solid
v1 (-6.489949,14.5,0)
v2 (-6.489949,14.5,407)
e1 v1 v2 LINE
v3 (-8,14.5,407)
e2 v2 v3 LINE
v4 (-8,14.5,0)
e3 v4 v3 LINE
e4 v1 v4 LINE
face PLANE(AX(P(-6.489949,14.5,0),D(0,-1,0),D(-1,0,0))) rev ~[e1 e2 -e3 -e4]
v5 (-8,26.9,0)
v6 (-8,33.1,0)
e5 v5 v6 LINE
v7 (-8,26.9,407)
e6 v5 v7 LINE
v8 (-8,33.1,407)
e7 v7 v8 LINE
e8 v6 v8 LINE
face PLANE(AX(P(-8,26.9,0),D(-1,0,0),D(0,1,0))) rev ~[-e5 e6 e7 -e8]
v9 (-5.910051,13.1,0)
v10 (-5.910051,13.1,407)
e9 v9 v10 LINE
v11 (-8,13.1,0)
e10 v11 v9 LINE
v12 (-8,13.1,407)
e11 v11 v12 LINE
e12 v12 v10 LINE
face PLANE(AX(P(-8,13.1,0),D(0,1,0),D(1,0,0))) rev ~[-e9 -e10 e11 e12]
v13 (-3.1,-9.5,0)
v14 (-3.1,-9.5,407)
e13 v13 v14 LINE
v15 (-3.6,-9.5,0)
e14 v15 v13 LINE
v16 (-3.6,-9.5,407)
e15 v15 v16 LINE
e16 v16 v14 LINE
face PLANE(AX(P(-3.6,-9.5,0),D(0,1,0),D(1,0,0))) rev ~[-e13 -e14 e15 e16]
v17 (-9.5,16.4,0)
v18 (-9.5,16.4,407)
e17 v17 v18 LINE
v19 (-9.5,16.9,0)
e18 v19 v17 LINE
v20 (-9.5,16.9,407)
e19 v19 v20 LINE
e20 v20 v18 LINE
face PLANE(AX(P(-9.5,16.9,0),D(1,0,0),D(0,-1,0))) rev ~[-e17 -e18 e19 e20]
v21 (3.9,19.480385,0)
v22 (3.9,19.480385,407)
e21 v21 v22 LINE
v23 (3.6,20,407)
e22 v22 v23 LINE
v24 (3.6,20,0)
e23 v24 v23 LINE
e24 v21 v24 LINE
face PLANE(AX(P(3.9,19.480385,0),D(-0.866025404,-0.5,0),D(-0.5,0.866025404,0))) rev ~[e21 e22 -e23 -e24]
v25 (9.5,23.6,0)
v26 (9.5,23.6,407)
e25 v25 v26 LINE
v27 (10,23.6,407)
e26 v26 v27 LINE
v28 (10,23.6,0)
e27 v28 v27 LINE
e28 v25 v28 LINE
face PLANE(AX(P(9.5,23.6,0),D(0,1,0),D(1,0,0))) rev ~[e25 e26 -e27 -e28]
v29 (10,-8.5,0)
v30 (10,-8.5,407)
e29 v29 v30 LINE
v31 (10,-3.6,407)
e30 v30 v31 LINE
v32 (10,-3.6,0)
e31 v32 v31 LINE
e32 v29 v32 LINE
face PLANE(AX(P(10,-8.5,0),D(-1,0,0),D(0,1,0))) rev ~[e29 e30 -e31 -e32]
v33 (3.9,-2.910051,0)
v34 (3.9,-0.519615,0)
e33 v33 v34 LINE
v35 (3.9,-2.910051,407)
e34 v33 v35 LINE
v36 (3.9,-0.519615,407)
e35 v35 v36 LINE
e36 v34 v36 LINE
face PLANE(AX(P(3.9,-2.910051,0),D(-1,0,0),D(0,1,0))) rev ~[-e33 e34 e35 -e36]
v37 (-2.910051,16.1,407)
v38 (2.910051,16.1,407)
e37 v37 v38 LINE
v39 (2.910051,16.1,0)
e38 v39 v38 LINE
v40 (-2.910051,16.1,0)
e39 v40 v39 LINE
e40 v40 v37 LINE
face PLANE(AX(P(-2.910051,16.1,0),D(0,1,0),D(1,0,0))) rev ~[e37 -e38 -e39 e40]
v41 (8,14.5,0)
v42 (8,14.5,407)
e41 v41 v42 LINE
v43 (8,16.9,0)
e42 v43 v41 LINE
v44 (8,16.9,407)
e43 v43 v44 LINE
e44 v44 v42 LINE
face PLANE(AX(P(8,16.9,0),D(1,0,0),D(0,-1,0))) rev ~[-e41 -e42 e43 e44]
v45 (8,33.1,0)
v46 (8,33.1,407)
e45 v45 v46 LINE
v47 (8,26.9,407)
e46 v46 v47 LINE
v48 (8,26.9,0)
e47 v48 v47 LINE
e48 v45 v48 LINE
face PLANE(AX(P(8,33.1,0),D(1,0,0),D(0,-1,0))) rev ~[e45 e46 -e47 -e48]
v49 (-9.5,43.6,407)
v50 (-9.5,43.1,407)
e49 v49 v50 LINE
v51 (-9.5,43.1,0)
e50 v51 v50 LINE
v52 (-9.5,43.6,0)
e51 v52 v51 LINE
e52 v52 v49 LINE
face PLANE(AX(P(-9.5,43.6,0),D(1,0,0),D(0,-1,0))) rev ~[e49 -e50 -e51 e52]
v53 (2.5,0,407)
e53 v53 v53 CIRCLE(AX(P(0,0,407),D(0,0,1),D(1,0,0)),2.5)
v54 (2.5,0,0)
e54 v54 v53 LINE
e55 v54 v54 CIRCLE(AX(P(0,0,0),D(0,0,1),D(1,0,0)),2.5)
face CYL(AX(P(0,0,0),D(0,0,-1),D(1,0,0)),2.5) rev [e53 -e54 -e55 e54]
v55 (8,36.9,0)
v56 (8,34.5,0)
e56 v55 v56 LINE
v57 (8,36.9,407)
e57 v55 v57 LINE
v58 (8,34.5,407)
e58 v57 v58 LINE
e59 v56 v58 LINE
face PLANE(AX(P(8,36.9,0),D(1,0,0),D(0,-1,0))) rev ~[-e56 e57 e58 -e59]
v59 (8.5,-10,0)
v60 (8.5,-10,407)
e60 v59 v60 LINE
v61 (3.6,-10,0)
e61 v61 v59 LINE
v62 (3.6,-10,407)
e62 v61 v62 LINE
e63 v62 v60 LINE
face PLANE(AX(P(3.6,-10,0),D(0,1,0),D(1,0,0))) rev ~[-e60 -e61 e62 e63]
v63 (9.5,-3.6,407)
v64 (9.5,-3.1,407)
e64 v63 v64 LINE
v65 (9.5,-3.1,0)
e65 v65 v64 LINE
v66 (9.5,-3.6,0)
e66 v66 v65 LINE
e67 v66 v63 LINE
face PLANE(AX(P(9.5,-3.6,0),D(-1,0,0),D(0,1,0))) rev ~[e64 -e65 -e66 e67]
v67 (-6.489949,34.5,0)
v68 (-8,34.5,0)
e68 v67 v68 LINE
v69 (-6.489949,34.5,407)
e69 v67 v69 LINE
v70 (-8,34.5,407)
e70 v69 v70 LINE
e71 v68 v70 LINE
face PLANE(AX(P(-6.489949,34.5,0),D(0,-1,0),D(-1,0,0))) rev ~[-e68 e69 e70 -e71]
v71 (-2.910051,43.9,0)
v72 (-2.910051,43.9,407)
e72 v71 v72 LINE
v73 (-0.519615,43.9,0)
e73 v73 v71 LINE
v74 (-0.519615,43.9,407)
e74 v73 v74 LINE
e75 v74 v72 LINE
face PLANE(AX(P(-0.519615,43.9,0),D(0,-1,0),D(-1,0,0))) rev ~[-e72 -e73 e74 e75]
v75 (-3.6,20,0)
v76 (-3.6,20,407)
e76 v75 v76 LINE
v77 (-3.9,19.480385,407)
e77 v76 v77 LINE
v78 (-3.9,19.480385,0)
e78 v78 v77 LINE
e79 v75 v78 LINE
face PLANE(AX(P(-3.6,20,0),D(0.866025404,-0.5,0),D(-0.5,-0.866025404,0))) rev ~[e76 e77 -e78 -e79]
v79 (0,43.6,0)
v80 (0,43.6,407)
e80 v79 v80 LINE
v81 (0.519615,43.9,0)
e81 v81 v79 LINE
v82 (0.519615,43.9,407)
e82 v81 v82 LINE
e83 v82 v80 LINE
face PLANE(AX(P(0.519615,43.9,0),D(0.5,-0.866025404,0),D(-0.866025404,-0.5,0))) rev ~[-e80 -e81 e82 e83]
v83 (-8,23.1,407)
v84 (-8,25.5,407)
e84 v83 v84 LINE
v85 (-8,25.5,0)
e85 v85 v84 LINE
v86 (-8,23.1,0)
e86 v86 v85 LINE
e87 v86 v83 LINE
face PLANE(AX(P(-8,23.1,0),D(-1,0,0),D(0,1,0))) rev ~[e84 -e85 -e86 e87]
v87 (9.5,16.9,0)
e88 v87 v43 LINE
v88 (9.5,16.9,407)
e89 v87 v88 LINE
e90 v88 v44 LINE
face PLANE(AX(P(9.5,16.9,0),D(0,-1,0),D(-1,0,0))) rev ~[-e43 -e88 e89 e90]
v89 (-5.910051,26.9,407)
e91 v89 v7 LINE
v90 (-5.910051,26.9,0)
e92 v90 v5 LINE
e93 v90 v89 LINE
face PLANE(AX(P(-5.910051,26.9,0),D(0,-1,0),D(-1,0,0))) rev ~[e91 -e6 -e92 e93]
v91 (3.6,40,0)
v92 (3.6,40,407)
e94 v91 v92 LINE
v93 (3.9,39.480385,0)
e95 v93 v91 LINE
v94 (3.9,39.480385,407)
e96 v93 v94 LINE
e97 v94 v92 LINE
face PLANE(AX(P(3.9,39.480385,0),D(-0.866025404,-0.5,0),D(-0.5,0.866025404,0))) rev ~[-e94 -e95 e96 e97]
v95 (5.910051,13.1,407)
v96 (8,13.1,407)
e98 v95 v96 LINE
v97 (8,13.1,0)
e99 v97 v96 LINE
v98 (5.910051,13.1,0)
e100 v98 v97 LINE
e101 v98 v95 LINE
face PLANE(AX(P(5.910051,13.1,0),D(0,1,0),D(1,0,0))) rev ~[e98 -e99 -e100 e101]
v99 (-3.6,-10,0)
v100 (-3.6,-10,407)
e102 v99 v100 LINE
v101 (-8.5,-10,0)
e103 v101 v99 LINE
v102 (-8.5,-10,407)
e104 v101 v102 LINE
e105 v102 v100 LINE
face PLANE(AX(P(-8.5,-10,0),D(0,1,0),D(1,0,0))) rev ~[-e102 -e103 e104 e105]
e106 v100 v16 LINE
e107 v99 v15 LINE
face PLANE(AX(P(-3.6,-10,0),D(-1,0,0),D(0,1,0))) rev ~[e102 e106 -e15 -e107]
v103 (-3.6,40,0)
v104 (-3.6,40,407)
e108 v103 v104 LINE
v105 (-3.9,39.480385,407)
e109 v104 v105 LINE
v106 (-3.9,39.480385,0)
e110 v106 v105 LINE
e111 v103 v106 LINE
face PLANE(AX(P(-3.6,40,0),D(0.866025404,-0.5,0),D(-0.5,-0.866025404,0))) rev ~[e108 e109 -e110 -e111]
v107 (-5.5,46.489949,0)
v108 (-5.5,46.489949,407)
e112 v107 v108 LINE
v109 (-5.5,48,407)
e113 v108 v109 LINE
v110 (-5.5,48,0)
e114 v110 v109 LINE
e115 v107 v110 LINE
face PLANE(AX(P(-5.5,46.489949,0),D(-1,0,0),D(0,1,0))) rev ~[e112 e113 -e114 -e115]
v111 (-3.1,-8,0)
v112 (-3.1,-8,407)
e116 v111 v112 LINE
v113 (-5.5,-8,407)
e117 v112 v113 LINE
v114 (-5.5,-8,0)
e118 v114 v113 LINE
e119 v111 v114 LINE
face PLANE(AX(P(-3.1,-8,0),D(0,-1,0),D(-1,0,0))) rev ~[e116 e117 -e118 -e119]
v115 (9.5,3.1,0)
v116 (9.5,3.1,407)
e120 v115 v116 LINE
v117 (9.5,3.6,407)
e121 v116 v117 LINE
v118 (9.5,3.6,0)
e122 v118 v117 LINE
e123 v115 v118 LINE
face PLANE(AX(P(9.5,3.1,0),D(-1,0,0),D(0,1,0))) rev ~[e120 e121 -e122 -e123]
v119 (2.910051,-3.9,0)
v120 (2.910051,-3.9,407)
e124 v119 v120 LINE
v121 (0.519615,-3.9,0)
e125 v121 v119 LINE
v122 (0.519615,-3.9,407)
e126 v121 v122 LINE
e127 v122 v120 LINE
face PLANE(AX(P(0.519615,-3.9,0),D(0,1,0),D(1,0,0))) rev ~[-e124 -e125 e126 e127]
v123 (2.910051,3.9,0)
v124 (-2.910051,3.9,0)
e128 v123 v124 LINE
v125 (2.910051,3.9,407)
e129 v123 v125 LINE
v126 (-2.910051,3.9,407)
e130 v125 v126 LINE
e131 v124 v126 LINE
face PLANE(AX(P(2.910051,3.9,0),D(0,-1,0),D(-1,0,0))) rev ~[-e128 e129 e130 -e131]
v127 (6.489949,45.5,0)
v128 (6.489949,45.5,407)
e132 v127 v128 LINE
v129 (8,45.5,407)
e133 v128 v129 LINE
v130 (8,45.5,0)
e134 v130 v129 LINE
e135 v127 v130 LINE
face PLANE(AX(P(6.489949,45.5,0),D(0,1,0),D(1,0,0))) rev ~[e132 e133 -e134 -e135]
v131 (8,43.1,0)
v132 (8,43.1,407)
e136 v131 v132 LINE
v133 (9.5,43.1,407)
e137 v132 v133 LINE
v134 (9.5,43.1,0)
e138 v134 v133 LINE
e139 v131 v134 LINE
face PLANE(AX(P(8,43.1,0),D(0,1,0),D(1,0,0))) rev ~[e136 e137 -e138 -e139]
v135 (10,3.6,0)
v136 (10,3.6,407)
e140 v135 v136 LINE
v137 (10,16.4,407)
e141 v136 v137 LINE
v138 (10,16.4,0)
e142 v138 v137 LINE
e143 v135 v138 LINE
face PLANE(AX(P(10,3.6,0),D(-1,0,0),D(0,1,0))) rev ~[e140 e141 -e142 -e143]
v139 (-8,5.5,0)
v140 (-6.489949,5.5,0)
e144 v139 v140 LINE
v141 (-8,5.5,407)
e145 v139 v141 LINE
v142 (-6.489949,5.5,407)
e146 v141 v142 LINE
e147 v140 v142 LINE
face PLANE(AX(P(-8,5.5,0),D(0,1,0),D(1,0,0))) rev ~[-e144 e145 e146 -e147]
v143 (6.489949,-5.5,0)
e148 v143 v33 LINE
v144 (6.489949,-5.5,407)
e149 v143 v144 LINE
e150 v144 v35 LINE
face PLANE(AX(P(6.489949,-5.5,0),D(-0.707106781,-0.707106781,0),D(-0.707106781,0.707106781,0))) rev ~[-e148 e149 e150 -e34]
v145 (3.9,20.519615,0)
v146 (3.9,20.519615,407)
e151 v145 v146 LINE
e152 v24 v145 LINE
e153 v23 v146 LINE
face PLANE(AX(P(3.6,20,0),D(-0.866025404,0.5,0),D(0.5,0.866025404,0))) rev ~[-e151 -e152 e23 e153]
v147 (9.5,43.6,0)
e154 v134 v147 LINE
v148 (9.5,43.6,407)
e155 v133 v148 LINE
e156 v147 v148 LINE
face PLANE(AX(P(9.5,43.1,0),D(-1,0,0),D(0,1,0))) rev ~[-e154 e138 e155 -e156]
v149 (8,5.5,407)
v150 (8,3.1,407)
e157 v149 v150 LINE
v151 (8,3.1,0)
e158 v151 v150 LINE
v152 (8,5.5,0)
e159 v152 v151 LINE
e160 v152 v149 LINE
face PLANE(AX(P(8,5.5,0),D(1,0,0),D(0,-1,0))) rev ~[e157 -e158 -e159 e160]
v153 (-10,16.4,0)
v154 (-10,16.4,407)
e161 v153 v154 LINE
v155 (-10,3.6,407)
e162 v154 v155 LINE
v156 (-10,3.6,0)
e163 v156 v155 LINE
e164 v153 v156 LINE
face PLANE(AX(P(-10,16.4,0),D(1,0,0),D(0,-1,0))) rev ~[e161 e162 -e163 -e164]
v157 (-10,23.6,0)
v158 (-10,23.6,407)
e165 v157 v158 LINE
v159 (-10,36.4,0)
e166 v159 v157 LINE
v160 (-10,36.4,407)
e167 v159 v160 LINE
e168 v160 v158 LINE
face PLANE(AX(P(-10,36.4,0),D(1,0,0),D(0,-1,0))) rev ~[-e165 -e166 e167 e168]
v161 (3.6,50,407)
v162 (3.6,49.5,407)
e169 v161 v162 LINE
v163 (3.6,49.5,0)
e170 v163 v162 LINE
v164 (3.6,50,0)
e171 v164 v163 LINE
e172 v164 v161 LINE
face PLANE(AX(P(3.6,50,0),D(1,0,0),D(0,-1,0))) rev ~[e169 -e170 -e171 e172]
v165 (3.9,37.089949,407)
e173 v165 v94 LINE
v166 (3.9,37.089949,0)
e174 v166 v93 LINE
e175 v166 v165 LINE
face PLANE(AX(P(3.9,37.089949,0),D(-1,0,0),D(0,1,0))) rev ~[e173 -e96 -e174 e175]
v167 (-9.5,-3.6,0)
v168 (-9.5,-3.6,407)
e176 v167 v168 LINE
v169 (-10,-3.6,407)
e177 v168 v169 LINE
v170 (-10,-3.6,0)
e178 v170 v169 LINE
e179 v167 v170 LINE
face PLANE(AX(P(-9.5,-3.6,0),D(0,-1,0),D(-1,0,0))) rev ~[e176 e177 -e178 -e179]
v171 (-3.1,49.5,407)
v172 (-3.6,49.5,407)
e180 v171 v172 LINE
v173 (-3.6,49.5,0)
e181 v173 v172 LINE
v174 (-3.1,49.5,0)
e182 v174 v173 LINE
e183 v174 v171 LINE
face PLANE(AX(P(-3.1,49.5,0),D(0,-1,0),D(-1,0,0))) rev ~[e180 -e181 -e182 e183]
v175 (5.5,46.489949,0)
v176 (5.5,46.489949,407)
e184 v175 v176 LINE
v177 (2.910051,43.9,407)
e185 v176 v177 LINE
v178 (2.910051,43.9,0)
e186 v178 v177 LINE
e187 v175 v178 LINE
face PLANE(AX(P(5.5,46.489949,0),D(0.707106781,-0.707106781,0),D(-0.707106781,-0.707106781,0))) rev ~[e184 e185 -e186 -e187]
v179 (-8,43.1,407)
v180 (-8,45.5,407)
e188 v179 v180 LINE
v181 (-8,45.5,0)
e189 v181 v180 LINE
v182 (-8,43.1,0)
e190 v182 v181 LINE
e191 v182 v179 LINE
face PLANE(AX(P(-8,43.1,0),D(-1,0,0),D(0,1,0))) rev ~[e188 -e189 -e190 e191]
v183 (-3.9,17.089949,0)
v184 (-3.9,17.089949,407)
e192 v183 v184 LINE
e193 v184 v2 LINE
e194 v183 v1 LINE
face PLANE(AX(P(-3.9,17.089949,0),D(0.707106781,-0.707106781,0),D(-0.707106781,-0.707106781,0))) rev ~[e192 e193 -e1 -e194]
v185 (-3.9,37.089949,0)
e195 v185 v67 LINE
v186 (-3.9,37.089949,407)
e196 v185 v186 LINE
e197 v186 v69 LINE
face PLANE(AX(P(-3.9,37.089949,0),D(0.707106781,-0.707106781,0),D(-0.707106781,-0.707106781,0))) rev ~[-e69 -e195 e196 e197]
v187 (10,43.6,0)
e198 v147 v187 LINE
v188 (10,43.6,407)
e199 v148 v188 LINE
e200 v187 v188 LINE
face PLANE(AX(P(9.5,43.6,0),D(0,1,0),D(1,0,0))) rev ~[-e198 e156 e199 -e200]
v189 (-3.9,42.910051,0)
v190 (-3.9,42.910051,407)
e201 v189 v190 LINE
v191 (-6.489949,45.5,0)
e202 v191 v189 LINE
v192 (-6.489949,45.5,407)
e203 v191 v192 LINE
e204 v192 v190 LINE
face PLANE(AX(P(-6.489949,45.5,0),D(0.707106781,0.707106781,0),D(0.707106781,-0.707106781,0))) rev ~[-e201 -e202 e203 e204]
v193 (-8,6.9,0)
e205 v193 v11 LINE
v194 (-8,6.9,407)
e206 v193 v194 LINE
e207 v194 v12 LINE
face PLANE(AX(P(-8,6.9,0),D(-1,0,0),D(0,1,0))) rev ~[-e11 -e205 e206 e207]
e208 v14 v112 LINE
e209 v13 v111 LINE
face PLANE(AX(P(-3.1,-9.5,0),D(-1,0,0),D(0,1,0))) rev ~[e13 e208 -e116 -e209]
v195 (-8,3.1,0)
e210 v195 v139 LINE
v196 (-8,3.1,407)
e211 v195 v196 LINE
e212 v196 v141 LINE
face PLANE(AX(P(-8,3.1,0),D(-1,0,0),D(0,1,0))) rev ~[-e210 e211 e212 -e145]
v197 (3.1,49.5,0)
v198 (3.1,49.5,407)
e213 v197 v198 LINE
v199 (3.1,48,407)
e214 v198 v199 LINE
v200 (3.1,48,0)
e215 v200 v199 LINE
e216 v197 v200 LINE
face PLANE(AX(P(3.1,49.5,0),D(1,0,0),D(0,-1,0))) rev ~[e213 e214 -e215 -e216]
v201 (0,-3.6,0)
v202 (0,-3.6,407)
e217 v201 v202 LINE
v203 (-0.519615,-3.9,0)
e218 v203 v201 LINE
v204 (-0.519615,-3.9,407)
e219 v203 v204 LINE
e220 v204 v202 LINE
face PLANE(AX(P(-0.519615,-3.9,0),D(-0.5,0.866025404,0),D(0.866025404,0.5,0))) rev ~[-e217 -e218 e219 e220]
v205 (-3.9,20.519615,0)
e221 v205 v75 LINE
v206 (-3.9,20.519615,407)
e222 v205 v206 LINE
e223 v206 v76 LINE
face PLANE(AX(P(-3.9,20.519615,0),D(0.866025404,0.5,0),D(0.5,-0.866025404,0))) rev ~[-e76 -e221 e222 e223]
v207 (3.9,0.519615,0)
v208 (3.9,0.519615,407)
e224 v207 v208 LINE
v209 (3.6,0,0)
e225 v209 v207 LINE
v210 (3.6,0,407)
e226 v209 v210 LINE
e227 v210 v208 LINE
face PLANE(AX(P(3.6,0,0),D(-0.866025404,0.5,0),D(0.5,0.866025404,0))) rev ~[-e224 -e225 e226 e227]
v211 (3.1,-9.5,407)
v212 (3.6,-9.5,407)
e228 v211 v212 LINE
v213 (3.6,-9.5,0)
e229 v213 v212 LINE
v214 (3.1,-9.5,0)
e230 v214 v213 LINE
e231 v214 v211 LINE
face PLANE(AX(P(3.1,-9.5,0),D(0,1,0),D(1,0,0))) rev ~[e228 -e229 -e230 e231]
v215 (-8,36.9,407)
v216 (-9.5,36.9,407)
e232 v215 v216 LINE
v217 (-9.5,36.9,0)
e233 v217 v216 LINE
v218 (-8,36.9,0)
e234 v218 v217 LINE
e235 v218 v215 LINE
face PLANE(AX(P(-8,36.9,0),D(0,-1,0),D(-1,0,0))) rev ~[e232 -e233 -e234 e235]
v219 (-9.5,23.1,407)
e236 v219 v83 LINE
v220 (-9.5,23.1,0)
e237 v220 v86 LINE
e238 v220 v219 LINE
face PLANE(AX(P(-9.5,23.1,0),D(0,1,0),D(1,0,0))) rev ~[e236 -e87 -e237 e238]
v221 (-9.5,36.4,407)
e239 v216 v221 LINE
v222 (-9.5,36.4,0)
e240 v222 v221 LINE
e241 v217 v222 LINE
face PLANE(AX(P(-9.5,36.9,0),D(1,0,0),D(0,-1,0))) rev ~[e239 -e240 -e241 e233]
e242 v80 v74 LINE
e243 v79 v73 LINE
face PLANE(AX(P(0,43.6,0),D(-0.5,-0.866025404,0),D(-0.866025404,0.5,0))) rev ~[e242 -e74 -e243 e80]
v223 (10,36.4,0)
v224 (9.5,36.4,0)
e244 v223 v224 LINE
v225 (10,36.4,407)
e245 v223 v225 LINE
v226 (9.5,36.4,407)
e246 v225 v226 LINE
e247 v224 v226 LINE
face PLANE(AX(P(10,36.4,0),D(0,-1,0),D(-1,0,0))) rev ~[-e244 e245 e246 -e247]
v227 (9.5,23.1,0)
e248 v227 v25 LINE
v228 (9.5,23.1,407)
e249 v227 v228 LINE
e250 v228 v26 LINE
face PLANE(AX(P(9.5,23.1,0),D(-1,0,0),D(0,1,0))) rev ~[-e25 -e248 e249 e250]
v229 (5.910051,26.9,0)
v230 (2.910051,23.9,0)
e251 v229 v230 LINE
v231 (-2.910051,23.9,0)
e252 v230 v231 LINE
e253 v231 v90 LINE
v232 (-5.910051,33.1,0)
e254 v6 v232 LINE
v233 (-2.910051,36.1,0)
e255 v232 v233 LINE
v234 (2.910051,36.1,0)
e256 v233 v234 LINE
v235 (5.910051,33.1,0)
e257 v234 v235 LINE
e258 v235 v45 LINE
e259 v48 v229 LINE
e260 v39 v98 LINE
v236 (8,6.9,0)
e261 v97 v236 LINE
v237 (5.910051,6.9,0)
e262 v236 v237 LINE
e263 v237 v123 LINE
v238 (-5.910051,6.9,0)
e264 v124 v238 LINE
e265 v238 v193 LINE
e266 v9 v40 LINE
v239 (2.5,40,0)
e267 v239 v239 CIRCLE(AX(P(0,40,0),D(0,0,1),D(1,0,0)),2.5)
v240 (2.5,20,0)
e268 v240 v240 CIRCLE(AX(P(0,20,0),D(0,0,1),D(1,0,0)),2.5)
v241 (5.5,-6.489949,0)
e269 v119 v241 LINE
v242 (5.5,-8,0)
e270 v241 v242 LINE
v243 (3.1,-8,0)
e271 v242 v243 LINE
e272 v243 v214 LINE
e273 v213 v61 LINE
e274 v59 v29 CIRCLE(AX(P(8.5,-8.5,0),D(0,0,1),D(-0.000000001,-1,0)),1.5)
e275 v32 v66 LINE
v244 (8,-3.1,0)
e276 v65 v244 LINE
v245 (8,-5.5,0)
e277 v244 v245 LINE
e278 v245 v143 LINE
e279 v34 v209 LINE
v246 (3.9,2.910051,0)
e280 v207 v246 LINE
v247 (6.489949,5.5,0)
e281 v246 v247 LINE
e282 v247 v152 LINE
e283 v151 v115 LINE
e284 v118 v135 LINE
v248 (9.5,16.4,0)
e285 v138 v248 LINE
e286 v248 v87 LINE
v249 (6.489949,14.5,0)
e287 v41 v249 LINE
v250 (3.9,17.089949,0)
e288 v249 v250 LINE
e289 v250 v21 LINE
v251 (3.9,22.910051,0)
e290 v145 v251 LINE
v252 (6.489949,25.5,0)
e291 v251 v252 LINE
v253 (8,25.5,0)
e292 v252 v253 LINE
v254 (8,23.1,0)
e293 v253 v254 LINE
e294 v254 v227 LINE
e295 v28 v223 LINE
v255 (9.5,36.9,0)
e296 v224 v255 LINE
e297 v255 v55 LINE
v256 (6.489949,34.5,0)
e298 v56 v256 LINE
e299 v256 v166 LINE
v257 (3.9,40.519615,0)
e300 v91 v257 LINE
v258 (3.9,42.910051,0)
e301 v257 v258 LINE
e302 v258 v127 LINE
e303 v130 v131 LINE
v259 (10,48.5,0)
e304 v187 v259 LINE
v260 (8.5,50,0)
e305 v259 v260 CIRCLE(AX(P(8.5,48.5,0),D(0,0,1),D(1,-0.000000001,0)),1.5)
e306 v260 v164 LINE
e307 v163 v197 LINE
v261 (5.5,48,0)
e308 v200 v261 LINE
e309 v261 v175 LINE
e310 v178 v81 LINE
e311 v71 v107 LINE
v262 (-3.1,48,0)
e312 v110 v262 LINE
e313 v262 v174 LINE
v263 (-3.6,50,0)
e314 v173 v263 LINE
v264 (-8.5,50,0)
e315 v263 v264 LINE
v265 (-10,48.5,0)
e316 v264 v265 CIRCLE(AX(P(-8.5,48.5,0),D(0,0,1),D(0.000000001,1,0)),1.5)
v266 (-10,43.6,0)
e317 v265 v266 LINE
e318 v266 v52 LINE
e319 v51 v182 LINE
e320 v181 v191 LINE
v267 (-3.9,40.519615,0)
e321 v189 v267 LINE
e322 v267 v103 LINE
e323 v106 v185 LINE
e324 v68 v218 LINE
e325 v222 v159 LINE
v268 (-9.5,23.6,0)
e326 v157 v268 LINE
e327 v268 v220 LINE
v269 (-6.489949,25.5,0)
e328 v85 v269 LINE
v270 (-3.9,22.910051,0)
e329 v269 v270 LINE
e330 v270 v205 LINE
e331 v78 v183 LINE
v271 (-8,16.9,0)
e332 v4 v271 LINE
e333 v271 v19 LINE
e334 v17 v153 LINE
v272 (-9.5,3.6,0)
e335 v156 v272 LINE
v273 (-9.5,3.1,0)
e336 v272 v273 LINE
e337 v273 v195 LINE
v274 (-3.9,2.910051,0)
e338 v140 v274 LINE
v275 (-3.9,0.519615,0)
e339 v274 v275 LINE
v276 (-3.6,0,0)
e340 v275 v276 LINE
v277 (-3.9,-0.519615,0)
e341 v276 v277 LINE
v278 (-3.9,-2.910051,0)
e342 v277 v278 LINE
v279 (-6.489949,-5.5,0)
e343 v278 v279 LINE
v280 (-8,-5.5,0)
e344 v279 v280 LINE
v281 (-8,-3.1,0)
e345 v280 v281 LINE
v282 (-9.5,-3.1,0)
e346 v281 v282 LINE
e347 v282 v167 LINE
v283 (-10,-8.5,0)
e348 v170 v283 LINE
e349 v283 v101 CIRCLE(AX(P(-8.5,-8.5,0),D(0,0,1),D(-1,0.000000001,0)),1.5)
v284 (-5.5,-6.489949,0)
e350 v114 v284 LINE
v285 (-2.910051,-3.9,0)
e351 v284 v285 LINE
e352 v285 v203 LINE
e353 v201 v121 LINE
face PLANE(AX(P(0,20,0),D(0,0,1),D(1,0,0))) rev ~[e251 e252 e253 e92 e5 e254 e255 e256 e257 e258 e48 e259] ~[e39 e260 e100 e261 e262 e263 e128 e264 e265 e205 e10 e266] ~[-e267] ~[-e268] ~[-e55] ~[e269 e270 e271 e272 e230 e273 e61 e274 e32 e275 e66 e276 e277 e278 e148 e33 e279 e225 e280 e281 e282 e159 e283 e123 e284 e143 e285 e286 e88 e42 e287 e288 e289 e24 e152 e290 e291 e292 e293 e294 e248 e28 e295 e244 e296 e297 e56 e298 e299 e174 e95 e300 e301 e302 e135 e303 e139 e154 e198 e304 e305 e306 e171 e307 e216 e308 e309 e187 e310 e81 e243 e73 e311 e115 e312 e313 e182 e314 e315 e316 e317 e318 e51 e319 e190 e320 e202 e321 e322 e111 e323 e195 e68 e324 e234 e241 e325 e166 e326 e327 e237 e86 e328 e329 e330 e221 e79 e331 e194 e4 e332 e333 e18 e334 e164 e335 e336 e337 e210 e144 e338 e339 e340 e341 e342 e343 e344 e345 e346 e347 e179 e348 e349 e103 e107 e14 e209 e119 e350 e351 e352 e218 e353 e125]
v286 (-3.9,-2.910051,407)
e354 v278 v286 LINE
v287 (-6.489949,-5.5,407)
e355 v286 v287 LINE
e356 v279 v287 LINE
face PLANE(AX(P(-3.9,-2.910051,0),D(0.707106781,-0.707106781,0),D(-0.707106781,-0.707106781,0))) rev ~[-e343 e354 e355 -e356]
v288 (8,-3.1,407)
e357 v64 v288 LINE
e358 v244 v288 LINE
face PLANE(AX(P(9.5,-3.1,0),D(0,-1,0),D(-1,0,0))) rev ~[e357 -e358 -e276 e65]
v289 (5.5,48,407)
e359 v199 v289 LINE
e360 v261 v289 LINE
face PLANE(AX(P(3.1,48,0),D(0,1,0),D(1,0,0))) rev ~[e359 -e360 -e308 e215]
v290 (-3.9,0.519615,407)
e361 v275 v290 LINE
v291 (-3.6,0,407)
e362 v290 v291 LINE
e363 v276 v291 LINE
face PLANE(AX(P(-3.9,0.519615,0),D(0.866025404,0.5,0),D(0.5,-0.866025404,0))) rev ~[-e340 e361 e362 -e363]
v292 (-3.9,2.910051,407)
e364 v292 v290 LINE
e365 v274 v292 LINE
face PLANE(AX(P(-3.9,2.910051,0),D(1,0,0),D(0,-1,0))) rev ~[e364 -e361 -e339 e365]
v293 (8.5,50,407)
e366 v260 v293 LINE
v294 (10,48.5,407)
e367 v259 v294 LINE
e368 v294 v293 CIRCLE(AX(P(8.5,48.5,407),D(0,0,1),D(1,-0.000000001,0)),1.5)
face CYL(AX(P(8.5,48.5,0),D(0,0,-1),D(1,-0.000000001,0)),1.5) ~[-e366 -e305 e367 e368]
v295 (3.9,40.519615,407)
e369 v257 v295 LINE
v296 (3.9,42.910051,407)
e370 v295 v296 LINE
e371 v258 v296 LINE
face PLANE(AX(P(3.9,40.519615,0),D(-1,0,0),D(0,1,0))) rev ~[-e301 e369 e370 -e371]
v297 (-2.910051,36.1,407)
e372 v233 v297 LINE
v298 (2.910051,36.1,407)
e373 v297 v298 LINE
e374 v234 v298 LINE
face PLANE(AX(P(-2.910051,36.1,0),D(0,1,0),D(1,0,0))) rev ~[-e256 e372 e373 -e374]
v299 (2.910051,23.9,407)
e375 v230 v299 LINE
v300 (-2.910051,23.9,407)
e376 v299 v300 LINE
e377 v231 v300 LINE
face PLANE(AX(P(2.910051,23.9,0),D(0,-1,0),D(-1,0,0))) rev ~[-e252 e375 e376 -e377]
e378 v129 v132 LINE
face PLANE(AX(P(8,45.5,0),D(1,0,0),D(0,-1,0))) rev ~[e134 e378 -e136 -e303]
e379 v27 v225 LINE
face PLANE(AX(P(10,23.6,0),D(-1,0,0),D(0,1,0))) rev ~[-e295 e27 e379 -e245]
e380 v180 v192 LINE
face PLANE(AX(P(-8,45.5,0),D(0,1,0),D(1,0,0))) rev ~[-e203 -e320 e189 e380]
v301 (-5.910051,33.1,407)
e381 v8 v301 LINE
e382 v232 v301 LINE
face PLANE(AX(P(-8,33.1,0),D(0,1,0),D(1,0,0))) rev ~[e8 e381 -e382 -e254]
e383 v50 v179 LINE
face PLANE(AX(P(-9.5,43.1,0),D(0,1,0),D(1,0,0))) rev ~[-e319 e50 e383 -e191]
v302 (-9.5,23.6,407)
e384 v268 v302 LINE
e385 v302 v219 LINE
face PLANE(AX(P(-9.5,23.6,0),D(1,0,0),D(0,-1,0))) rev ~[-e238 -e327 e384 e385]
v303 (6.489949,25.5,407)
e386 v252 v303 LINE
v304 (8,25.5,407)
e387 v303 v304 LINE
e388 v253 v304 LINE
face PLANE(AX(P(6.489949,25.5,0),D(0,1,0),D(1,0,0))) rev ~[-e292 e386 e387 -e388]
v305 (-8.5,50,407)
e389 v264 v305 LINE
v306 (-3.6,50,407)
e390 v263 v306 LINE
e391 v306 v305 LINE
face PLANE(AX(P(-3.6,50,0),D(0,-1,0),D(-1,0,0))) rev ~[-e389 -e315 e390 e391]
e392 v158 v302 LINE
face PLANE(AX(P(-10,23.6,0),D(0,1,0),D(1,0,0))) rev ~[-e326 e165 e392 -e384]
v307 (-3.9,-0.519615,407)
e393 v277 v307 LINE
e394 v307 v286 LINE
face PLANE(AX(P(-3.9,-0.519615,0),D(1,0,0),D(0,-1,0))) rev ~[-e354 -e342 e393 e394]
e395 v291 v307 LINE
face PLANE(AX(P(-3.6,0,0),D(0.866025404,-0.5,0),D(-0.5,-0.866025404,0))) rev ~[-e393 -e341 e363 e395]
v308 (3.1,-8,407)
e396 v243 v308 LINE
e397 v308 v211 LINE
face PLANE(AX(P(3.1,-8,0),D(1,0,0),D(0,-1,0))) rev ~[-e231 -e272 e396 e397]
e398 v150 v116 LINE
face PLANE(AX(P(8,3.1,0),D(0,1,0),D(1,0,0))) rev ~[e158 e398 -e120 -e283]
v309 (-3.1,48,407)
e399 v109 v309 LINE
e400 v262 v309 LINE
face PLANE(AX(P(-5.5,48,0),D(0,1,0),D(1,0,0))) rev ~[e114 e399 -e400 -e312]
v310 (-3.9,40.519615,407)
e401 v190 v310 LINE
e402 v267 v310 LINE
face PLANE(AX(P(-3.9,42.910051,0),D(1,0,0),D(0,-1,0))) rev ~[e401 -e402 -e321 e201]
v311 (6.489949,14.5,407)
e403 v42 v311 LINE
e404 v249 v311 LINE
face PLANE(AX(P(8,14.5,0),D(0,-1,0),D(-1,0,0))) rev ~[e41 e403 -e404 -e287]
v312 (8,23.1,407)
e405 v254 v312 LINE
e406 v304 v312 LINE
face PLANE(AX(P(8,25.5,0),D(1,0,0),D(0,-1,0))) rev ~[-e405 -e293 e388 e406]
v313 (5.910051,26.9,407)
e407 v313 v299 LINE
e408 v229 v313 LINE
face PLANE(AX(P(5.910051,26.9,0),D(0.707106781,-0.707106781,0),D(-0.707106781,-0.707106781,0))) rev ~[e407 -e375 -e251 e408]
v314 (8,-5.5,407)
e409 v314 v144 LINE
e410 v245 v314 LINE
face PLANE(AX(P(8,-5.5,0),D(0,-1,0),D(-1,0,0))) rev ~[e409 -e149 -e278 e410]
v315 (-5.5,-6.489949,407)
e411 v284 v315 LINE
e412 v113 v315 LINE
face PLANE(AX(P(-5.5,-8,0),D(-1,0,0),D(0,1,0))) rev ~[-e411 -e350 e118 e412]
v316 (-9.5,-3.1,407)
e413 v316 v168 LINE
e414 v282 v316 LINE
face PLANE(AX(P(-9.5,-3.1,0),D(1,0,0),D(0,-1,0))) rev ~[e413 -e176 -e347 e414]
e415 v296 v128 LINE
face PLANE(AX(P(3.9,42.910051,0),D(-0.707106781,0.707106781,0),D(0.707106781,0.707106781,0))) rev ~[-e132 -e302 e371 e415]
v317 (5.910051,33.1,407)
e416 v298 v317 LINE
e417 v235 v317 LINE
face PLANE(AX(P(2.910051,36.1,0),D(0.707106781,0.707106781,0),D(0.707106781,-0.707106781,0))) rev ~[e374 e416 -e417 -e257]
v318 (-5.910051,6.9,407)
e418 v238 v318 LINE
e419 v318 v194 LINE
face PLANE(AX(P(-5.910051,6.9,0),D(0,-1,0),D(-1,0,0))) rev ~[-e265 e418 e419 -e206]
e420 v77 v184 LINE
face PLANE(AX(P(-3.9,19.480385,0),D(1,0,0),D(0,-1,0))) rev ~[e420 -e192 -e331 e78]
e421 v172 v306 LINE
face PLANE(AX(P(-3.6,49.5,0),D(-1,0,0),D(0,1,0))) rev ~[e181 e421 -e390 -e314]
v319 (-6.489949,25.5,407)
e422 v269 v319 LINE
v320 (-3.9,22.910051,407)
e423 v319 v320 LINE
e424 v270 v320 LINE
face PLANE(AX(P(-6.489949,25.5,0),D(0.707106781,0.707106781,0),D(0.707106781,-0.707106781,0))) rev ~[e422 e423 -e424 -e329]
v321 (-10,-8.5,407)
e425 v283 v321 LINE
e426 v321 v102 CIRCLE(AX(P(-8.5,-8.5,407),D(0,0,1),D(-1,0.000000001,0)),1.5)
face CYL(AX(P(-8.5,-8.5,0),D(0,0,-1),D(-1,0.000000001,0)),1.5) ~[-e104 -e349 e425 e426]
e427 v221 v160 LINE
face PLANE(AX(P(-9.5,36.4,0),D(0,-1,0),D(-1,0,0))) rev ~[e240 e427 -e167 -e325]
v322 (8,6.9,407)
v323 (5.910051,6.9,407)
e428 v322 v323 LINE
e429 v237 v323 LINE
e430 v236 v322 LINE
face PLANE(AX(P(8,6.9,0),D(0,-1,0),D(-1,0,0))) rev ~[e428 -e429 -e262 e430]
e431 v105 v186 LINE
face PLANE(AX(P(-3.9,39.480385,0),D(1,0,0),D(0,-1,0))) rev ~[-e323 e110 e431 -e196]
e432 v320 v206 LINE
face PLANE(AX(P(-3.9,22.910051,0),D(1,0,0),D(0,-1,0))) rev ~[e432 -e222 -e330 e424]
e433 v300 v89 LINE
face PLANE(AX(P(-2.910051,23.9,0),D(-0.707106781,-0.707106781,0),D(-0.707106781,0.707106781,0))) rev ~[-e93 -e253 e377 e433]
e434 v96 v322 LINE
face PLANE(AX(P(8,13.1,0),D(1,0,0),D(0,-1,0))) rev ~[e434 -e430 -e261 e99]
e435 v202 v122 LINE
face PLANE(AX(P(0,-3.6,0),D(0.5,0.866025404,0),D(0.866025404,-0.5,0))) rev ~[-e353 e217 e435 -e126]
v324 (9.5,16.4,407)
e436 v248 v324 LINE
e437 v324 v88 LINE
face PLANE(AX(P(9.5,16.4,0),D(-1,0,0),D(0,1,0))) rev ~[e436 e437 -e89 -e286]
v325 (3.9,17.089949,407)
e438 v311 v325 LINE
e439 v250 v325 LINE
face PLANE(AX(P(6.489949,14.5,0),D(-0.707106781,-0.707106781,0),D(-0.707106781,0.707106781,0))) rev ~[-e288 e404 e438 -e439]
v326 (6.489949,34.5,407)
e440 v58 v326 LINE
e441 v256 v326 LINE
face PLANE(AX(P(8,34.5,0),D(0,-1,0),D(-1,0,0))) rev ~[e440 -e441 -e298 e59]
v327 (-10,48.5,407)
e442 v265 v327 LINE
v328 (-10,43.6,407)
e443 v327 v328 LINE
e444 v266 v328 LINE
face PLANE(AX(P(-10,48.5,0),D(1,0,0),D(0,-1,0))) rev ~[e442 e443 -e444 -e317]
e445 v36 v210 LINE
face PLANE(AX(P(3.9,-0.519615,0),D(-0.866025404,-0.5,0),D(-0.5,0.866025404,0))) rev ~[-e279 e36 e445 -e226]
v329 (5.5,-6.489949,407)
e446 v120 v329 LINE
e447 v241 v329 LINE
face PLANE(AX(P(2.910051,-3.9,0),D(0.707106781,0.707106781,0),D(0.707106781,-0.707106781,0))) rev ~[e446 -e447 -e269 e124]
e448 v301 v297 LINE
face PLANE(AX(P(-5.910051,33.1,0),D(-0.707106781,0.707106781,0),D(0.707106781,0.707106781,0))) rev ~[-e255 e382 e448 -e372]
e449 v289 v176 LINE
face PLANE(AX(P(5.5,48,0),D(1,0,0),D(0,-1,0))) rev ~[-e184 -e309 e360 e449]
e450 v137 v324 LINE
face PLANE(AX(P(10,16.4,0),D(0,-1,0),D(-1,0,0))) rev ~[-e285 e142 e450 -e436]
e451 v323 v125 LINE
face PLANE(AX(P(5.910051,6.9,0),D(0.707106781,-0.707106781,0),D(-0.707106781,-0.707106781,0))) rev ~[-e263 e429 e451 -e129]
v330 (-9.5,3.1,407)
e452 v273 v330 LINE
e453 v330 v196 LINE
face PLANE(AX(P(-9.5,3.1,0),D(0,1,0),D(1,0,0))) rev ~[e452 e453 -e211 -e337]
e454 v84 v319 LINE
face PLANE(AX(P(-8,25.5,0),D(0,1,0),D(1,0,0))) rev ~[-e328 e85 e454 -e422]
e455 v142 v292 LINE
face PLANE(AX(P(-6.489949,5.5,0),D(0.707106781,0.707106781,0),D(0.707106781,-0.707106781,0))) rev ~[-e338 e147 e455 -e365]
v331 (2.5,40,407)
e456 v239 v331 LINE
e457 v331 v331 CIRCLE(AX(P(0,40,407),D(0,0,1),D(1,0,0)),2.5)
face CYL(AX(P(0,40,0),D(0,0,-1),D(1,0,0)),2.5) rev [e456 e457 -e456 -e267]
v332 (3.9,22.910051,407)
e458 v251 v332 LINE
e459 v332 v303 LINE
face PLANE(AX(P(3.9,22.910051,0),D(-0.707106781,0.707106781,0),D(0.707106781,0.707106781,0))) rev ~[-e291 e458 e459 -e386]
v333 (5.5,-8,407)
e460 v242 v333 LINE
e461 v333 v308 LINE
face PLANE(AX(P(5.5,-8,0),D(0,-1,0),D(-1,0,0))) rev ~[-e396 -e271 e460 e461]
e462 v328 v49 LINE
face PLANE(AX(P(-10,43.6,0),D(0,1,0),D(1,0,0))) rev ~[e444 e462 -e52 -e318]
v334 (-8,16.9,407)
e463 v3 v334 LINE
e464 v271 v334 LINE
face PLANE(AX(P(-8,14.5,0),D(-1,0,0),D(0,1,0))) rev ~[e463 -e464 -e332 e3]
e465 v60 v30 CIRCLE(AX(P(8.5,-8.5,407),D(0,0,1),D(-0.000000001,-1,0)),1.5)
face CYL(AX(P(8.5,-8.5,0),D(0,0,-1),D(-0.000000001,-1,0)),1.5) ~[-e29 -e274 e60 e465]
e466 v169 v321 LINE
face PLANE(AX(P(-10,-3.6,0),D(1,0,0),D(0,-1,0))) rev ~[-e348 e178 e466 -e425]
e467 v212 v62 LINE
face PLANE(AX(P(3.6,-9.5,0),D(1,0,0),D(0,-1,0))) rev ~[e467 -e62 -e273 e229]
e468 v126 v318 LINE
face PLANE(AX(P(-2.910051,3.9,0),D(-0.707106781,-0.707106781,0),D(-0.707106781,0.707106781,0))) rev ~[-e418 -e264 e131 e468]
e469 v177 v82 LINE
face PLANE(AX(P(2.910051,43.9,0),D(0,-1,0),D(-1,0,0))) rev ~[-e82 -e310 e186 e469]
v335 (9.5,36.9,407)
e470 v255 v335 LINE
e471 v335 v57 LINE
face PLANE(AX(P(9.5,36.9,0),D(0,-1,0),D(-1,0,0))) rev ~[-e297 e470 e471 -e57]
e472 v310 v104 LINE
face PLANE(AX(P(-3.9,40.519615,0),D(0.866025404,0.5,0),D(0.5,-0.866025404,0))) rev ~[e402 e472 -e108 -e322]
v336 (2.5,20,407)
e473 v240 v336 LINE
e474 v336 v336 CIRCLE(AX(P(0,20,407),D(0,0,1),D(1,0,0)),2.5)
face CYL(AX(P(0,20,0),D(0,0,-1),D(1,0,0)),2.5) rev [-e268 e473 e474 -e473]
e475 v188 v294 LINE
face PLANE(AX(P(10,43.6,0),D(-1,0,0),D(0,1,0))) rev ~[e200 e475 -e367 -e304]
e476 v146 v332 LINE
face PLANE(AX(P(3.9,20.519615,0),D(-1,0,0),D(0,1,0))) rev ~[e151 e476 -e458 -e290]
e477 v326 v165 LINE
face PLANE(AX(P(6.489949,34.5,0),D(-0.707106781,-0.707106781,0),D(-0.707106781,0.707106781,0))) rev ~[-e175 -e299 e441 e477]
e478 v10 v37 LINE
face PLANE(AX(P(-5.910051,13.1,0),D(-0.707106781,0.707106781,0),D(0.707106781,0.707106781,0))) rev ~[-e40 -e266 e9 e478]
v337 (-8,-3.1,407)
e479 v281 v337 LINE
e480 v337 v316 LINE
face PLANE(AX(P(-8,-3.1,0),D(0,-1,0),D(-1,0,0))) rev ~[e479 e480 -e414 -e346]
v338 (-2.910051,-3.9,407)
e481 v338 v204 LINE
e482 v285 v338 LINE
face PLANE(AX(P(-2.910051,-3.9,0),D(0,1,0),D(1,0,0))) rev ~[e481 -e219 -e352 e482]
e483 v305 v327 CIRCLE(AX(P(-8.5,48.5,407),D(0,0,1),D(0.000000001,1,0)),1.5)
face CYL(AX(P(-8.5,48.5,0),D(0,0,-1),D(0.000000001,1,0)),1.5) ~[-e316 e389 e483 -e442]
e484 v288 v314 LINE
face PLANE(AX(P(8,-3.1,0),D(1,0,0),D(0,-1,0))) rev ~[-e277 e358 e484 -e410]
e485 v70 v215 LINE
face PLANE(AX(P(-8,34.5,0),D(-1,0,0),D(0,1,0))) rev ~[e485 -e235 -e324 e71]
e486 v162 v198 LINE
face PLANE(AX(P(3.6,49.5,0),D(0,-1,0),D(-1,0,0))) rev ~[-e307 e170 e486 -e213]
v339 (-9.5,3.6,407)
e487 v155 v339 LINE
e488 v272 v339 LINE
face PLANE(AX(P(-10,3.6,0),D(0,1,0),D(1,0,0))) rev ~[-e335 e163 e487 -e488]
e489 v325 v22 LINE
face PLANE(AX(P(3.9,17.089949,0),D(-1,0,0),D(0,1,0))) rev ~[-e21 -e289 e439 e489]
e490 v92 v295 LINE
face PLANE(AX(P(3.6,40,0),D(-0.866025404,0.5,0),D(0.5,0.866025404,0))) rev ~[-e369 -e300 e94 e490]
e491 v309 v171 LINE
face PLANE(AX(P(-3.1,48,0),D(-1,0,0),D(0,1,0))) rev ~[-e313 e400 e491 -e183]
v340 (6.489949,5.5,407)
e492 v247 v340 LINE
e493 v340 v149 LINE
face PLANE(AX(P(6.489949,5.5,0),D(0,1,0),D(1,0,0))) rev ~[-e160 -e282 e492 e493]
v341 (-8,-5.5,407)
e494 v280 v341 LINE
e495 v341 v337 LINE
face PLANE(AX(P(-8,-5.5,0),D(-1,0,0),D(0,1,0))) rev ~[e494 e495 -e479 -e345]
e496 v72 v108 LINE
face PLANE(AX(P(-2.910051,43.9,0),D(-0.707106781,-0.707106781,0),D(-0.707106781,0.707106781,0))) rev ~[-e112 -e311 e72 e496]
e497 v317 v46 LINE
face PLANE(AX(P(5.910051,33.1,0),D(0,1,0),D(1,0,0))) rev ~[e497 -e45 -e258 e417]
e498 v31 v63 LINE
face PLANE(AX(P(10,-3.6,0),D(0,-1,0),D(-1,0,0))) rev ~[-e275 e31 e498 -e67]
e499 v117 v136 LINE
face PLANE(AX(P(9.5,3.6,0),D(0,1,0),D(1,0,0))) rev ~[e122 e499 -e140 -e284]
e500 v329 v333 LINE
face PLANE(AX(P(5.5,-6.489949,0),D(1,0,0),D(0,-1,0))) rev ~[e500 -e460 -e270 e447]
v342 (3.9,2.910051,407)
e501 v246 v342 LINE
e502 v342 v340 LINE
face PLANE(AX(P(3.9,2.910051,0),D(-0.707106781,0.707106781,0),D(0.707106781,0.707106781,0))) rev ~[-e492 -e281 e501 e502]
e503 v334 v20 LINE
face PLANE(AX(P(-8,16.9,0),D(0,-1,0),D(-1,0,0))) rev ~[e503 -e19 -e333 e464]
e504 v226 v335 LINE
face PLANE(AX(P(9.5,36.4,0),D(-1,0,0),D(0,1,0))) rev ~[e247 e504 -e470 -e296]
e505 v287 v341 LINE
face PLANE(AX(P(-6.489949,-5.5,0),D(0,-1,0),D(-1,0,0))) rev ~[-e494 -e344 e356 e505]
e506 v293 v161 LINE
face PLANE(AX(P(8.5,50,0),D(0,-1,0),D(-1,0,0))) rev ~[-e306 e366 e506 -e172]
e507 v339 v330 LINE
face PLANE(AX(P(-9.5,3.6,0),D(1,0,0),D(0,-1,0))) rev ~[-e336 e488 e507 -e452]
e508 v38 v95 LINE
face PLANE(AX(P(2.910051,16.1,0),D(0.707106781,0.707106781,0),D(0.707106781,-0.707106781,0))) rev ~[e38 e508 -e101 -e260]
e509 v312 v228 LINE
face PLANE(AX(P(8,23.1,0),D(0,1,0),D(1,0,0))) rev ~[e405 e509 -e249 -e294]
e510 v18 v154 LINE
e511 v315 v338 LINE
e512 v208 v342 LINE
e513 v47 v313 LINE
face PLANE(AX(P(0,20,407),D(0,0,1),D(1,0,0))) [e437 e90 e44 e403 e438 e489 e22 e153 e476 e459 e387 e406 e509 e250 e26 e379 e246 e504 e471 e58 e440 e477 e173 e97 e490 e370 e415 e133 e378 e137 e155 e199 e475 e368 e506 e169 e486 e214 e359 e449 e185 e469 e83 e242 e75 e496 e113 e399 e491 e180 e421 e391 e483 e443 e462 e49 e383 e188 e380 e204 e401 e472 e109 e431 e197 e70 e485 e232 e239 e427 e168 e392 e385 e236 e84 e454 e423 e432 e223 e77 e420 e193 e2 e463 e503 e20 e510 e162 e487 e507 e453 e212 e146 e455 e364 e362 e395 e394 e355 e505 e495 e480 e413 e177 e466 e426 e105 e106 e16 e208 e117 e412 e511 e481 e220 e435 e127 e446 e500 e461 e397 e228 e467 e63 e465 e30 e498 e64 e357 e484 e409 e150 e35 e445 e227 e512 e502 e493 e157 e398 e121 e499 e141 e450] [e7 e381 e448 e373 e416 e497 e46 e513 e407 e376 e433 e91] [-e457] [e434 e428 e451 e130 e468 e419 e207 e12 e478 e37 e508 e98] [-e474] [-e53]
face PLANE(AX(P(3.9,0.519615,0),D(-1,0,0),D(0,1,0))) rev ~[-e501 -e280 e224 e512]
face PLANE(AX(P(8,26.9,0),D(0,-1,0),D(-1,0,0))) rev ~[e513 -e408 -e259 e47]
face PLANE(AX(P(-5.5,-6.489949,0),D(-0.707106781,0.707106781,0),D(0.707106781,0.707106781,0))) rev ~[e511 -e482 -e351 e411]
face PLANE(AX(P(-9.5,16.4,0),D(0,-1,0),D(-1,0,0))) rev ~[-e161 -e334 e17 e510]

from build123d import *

# Parameters (mm, degrees)
SKETCH_28_R     = 2.5
EXTRUDE_1_DEPTH = 407


with BuildPart() as part:
    # 草图28 → 凸台-拉伸1 (new body)
    with BuildSketch(Plane.XY):
        with BuildLine():
            Line((9.5, 36.4), (9.5, 36.9))
            Line((9.5, 36.9), (8, 36.9))
            Line((8, 36.9), (8, 34.5))
            Line((8, 34.5), (6.489949494, 34.5))
            Line((6.489949494, 34.5), (3.9, 37.089949494))
            Line((3.9, 37.089949494), (3.9, 39.480384758))
            Line((3.9, 39.480384758), (3.6, 40))
            Line((3.6, 40), (3.9, 40.519615242))
            Line((3.9, 40.519615242), (3.9, 42.910050506))
            Line((3.9, 42.910050506), (6.489949494, 45.5))
            Line((6.489949494, 45.5), (8, 45.5))
            Line((8, 45.5), (8, 43.1))
            Line((8, 43.1), (9.5, 43.1))
            Line((9.5, 43.1), (9.5, 43.6))
            Line((9.5, 43.6), (10, 43.6))
            Line((10, 43.6), (10, 48.5))
            ThreePointArc((10, 48.5), (9.560660172, 49.560660172), (8.5, 50))
            Line((8.5, 50), (3.6, 50))
            Line((3.6, 50), (3.6, 49.5))
            Line((3.6, 49.5), (3.1, 49.5))
            Line((3.1, 49.5), (3.1, 48))
            Line((3.1, 48), (5.5, 48))
            Line((5.5, 48), (5.5, 46.489949494))
            Line((5.5, 46.489949494), (2.910050506, 43.9))
            Line((2.910050506, 43.9), (0.519615242, 43.9))
            Line((0.519615242, 43.9), (0, 43.6))
            Line((0, 43.6), (-0.519615242, 43.9))
            Line((-0.519615242, 43.9), (-2.910050506, 43.9))
            Line((-2.910050506, 43.9), (-5.5, 46.489949494))
            Line((-5.5, 46.489949494), (-5.5, 48))
            Line((-5.5, 48), (-3.1, 48))
            Line((-3.1, 48), (-3.1, 49.5))
            Line((-3.1, 49.5), (-3.6, 49.5))
            Line((-3.6, 49.5), (-3.6, 50))
            Line((-3.6, 50), (-8.5, 50))
            ThreePointArc((-8.5, 50), (-9.560660172, 49.560660172), (-10, 48.5))
            Line((-10, 48.5), (-10, 43.6))
            Line((-10, 43.6), (-9.5, 43.6))
            Line((-9.5, 43.6), (-9.5, 43.1))
            Line((-9.5, 43.1), (-8, 43.1))
            Line((-8, 43.1), (-8, 45.5))
            Line((-8, 45.5), (-6.489949494, 45.5))
            Line((-6.489949494, 45.5), (-3.9, 42.910050506))
            Line((-3.9, 42.910050506), (-3.9, 40.519615242))
            Line((-3.9, 40.519615242), (-3.6, 40))
            Line((-3.6, 40), (-3.9, 39.480384758))
            Line((-3.9, 39.480384758), (-3.9, 37.089949494))
            Line((-3.9, 37.089949494), (-6.489949494, 34.5))
            Line((-6.489949494, 34.5), (-8, 34.5))
            Line((-8, 34.5), (-8, 36.9))
            Line((-8, 36.9), (-9.5, 36.9))
            Line((-9.5, 36.9), (-9.5, 36.4))
            Line((-9.5, 36.4), (-10, 36.4))
            Line((-10, 36.4), (-10, 23.6))
            Line((-10, 23.6), (-9.5, 23.6))
            Line((-9.5, 23.6), (-9.5, 23.1))
            Line((-9.5, 23.1), (-8, 23.1))
            Line((-8, 23.1), (-8, 25.5))
            Line((-8, 25.5), (-6.489949494, 25.5))
            Line((-6.489949494, 25.5), (-3.9, 22.910050506))
            Line((-3.9, 22.910050506), (-3.9, 20.519615242))
            Line((-3.9, 20.519615242), (-3.6, 20))
            Line((-3.6, 20), (-3.9, 19.480384758))
            Line((-3.9, 19.480384758), (-3.9, 17.089949494))
            Line((-3.9, 17.089949494), (-6.489949494, 14.5))
            Line((-6.489949494, 14.5), (-8, 14.5))
            Line((-8, 14.5), (-8, 16.9))
            Line((-8, 16.9), (-9.5, 16.9))
            Line((-9.5, 16.9), (-9.5, 16.4))
            Line((-9.5, 16.4), (-10, 16.4))
            Line((-10, 16.4), (-10, 3.6))
            Line((-10, 3.6), (-9.5, 3.6))
            Line((-9.5, 3.6), (-9.5, 3.1))
            Line((-9.5, 3.1), (-8, 3.1))
            Line((-8, 3.1), (-8, 5.5))
            Line((-8, 5.5), (-6.489949494, 5.5))
            Line((-6.489949494, 5.5), (-3.9, 2.910050506))
            Line((-3.9, 2.910050506), (-3.9, 0.519615242))
            Line((-3.9, 0.519615242), (-3.6, 0))
            Line((-3.6, 0), (-3.9, -0.519615242))
            Line((-3.9, -0.519615242), (-3.9, -2.910050506))
            Line((-3.9, -2.910050506), (-6.489949494, -5.5))
            Line((-6.489949494, -5.5), (-8, -5.5))
            Line((-8, -5.5), (-8, -3.1))
            Line((-8, -3.1), (-9.5, -3.1))
            Line((-9.5, -3.1), (-9.5, -3.6))
            Line((-9.5, -3.6), (-10, -3.6))
            Line((-10, -3.6), (-10, -8.5))
            ThreePointArc((-10, -8.5), (-9.560660172, -9.560660172), (-8.5, -10))
            Line((-8.5, -10), (-3.6, -10))
            Line((-3.6, -10), (-3.6, -9.5))
            Line((-3.6, -9.5), (-3.1, -9.5))
            Line((-3.1, -9.5), (-3.1, -8))
            Line((-3.1, -8), (-5.5, -8))
            Line((-5.5, -8), (-5.5, -6.489949494))
            Line((-5.5, -6.489949494), (-2.910050506, -3.9))
            Line((-2.910050506, -3.9), (-0.519615242, -3.9))
            Line((-0.519615242, -3.9), (0, -3.6))
            Line((0, -3.6), (0.519615242, -3.9))
            Line((0.519615242, -3.9), (2.910050506, -3.9))
            Line((2.910050506, -3.9), (5.5, -6.489949494))
            Line((5.5, -6.489949494), (5.5, -8))
            Line((5.5, -8), (3.1, -8))
            Line((3.1, -8), (3.1, -9.5))
            Line((3.1, -9.5), (3.6, -9.5))
            Line((3.6, -9.5), (3.6, -10))
            Line((3.6, -10), (8.5, -10))
            ThreePointArc((8.5, -10), (9.560660172, -9.560660172), (10, -8.5))
            Line((10, -8.5), (10, -3.6))
            Line((10, -3.6), (9.5, -3.6))
            Line((9.5, -3.6), (9.5, -3.1))
            Line((9.5, -3.1), (8, -3.1))
            Line((8, -3.1), (8, -5.5))
            Line((8, -5.5), (6.489949494, -5.5))
            Line((6.489949494, -5.5), (3.9, -2.910050506))
            Line((3.9, -2.910050506), (3.9, -0.519615242))
            Line((3.9, -0.519615242), (3.6, 0))
            Line((3.6, 0), (3.9, 0.519615242))
            Line((3.9, 0.519615242), (3.9, 2.910050506))
            Line((3.9, 2.910050506), (6.489949494, 5.5))
            Line((6.489949494, 5.5), (8, 5.5))
            Line((8, 5.5), (8, 3.1))
            Line((8, 3.1), (9.5, 3.1))
            Line((9.5, 3.1), (9.5, 3.6))
            Line((9.5, 3.6), (10, 3.6))
            Line((10, 3.6), (10, 16.4))
            Line((10, 16.4), (9.5, 16.4))
            Line((9.5, 16.4), (9.5, 16.9))
            Line((9.5, 16.9), (8, 16.9))
            Line((8, 16.9), (8, 14.5))
            Line((8, 14.5), (6.489949494, 14.5))
            Line((6.489949494, 14.5), (3.9, 17.089949494))
            Line((3.9, 17.089949494), (3.9, 19.480384758))
            Line((3.9, 19.480384758), (3.6, 20))
            Line((3.6, 20), (3.9, 20.519615242))
            Line((3.9, 20.519615242), (3.9, 22.910050506))
            Line((3.9, 22.910050506), (6.489949494, 25.5))
            Line((6.489949494, 25.5), (8, 25.5))
            Line((8, 25.5), (8, 23.1))
            Line((8, 23.1), (9.5, 23.1))
            Line((9.5, 23.1), (9.5, 23.6))
            Line((9.5, 23.6), (10, 23.6))
            Line((10, 23.6), (10, 36.4))
            Line((10, 36.4), (9.5, 36.4))
        make_face()
        Circle(SKETCH_28_R, mode=Mode.SUBTRACT)
        with Locations((0, 20)):
            Circle(SKETCH_28_R, mode=Mode.SUBTRACT)
        with Locations((0, 40)):
            Circle(SKETCH_28_R, mode=Mode.SUBTRACT)
        Polygon((2.910050506, 16.1), (5.910050506, 13.1), (8, 13.1), (8, 6.9), (5.910050506, 6.9), (2.910050506, 3.9), (-2.910050506, 3.9), (-5.910050506, 6.9), (-8, 6.9), (-8, 13.1), (-5.910050506, 13.1), (-2.910050506, 16.1), align=None, mode=Mode.SUBTRACT)
        Polygon((5.910050506, 26.9), (2.910050506, 23.9), (-2.910050506, 23.9), (-5.910050506, 26.9), (-8, 26.9), (-8, 33.1), (-5.910050506, 33.1), (-2.910050506, 36.1), (2.910050506, 36.1), (5.910050506, 33.1), (8, 33.1), (8, 26.9), align=None, mode=Mode.SUBTRACT)
    extrude(amount=EXTRUDE_1_DEPTH)


solid = part.part
